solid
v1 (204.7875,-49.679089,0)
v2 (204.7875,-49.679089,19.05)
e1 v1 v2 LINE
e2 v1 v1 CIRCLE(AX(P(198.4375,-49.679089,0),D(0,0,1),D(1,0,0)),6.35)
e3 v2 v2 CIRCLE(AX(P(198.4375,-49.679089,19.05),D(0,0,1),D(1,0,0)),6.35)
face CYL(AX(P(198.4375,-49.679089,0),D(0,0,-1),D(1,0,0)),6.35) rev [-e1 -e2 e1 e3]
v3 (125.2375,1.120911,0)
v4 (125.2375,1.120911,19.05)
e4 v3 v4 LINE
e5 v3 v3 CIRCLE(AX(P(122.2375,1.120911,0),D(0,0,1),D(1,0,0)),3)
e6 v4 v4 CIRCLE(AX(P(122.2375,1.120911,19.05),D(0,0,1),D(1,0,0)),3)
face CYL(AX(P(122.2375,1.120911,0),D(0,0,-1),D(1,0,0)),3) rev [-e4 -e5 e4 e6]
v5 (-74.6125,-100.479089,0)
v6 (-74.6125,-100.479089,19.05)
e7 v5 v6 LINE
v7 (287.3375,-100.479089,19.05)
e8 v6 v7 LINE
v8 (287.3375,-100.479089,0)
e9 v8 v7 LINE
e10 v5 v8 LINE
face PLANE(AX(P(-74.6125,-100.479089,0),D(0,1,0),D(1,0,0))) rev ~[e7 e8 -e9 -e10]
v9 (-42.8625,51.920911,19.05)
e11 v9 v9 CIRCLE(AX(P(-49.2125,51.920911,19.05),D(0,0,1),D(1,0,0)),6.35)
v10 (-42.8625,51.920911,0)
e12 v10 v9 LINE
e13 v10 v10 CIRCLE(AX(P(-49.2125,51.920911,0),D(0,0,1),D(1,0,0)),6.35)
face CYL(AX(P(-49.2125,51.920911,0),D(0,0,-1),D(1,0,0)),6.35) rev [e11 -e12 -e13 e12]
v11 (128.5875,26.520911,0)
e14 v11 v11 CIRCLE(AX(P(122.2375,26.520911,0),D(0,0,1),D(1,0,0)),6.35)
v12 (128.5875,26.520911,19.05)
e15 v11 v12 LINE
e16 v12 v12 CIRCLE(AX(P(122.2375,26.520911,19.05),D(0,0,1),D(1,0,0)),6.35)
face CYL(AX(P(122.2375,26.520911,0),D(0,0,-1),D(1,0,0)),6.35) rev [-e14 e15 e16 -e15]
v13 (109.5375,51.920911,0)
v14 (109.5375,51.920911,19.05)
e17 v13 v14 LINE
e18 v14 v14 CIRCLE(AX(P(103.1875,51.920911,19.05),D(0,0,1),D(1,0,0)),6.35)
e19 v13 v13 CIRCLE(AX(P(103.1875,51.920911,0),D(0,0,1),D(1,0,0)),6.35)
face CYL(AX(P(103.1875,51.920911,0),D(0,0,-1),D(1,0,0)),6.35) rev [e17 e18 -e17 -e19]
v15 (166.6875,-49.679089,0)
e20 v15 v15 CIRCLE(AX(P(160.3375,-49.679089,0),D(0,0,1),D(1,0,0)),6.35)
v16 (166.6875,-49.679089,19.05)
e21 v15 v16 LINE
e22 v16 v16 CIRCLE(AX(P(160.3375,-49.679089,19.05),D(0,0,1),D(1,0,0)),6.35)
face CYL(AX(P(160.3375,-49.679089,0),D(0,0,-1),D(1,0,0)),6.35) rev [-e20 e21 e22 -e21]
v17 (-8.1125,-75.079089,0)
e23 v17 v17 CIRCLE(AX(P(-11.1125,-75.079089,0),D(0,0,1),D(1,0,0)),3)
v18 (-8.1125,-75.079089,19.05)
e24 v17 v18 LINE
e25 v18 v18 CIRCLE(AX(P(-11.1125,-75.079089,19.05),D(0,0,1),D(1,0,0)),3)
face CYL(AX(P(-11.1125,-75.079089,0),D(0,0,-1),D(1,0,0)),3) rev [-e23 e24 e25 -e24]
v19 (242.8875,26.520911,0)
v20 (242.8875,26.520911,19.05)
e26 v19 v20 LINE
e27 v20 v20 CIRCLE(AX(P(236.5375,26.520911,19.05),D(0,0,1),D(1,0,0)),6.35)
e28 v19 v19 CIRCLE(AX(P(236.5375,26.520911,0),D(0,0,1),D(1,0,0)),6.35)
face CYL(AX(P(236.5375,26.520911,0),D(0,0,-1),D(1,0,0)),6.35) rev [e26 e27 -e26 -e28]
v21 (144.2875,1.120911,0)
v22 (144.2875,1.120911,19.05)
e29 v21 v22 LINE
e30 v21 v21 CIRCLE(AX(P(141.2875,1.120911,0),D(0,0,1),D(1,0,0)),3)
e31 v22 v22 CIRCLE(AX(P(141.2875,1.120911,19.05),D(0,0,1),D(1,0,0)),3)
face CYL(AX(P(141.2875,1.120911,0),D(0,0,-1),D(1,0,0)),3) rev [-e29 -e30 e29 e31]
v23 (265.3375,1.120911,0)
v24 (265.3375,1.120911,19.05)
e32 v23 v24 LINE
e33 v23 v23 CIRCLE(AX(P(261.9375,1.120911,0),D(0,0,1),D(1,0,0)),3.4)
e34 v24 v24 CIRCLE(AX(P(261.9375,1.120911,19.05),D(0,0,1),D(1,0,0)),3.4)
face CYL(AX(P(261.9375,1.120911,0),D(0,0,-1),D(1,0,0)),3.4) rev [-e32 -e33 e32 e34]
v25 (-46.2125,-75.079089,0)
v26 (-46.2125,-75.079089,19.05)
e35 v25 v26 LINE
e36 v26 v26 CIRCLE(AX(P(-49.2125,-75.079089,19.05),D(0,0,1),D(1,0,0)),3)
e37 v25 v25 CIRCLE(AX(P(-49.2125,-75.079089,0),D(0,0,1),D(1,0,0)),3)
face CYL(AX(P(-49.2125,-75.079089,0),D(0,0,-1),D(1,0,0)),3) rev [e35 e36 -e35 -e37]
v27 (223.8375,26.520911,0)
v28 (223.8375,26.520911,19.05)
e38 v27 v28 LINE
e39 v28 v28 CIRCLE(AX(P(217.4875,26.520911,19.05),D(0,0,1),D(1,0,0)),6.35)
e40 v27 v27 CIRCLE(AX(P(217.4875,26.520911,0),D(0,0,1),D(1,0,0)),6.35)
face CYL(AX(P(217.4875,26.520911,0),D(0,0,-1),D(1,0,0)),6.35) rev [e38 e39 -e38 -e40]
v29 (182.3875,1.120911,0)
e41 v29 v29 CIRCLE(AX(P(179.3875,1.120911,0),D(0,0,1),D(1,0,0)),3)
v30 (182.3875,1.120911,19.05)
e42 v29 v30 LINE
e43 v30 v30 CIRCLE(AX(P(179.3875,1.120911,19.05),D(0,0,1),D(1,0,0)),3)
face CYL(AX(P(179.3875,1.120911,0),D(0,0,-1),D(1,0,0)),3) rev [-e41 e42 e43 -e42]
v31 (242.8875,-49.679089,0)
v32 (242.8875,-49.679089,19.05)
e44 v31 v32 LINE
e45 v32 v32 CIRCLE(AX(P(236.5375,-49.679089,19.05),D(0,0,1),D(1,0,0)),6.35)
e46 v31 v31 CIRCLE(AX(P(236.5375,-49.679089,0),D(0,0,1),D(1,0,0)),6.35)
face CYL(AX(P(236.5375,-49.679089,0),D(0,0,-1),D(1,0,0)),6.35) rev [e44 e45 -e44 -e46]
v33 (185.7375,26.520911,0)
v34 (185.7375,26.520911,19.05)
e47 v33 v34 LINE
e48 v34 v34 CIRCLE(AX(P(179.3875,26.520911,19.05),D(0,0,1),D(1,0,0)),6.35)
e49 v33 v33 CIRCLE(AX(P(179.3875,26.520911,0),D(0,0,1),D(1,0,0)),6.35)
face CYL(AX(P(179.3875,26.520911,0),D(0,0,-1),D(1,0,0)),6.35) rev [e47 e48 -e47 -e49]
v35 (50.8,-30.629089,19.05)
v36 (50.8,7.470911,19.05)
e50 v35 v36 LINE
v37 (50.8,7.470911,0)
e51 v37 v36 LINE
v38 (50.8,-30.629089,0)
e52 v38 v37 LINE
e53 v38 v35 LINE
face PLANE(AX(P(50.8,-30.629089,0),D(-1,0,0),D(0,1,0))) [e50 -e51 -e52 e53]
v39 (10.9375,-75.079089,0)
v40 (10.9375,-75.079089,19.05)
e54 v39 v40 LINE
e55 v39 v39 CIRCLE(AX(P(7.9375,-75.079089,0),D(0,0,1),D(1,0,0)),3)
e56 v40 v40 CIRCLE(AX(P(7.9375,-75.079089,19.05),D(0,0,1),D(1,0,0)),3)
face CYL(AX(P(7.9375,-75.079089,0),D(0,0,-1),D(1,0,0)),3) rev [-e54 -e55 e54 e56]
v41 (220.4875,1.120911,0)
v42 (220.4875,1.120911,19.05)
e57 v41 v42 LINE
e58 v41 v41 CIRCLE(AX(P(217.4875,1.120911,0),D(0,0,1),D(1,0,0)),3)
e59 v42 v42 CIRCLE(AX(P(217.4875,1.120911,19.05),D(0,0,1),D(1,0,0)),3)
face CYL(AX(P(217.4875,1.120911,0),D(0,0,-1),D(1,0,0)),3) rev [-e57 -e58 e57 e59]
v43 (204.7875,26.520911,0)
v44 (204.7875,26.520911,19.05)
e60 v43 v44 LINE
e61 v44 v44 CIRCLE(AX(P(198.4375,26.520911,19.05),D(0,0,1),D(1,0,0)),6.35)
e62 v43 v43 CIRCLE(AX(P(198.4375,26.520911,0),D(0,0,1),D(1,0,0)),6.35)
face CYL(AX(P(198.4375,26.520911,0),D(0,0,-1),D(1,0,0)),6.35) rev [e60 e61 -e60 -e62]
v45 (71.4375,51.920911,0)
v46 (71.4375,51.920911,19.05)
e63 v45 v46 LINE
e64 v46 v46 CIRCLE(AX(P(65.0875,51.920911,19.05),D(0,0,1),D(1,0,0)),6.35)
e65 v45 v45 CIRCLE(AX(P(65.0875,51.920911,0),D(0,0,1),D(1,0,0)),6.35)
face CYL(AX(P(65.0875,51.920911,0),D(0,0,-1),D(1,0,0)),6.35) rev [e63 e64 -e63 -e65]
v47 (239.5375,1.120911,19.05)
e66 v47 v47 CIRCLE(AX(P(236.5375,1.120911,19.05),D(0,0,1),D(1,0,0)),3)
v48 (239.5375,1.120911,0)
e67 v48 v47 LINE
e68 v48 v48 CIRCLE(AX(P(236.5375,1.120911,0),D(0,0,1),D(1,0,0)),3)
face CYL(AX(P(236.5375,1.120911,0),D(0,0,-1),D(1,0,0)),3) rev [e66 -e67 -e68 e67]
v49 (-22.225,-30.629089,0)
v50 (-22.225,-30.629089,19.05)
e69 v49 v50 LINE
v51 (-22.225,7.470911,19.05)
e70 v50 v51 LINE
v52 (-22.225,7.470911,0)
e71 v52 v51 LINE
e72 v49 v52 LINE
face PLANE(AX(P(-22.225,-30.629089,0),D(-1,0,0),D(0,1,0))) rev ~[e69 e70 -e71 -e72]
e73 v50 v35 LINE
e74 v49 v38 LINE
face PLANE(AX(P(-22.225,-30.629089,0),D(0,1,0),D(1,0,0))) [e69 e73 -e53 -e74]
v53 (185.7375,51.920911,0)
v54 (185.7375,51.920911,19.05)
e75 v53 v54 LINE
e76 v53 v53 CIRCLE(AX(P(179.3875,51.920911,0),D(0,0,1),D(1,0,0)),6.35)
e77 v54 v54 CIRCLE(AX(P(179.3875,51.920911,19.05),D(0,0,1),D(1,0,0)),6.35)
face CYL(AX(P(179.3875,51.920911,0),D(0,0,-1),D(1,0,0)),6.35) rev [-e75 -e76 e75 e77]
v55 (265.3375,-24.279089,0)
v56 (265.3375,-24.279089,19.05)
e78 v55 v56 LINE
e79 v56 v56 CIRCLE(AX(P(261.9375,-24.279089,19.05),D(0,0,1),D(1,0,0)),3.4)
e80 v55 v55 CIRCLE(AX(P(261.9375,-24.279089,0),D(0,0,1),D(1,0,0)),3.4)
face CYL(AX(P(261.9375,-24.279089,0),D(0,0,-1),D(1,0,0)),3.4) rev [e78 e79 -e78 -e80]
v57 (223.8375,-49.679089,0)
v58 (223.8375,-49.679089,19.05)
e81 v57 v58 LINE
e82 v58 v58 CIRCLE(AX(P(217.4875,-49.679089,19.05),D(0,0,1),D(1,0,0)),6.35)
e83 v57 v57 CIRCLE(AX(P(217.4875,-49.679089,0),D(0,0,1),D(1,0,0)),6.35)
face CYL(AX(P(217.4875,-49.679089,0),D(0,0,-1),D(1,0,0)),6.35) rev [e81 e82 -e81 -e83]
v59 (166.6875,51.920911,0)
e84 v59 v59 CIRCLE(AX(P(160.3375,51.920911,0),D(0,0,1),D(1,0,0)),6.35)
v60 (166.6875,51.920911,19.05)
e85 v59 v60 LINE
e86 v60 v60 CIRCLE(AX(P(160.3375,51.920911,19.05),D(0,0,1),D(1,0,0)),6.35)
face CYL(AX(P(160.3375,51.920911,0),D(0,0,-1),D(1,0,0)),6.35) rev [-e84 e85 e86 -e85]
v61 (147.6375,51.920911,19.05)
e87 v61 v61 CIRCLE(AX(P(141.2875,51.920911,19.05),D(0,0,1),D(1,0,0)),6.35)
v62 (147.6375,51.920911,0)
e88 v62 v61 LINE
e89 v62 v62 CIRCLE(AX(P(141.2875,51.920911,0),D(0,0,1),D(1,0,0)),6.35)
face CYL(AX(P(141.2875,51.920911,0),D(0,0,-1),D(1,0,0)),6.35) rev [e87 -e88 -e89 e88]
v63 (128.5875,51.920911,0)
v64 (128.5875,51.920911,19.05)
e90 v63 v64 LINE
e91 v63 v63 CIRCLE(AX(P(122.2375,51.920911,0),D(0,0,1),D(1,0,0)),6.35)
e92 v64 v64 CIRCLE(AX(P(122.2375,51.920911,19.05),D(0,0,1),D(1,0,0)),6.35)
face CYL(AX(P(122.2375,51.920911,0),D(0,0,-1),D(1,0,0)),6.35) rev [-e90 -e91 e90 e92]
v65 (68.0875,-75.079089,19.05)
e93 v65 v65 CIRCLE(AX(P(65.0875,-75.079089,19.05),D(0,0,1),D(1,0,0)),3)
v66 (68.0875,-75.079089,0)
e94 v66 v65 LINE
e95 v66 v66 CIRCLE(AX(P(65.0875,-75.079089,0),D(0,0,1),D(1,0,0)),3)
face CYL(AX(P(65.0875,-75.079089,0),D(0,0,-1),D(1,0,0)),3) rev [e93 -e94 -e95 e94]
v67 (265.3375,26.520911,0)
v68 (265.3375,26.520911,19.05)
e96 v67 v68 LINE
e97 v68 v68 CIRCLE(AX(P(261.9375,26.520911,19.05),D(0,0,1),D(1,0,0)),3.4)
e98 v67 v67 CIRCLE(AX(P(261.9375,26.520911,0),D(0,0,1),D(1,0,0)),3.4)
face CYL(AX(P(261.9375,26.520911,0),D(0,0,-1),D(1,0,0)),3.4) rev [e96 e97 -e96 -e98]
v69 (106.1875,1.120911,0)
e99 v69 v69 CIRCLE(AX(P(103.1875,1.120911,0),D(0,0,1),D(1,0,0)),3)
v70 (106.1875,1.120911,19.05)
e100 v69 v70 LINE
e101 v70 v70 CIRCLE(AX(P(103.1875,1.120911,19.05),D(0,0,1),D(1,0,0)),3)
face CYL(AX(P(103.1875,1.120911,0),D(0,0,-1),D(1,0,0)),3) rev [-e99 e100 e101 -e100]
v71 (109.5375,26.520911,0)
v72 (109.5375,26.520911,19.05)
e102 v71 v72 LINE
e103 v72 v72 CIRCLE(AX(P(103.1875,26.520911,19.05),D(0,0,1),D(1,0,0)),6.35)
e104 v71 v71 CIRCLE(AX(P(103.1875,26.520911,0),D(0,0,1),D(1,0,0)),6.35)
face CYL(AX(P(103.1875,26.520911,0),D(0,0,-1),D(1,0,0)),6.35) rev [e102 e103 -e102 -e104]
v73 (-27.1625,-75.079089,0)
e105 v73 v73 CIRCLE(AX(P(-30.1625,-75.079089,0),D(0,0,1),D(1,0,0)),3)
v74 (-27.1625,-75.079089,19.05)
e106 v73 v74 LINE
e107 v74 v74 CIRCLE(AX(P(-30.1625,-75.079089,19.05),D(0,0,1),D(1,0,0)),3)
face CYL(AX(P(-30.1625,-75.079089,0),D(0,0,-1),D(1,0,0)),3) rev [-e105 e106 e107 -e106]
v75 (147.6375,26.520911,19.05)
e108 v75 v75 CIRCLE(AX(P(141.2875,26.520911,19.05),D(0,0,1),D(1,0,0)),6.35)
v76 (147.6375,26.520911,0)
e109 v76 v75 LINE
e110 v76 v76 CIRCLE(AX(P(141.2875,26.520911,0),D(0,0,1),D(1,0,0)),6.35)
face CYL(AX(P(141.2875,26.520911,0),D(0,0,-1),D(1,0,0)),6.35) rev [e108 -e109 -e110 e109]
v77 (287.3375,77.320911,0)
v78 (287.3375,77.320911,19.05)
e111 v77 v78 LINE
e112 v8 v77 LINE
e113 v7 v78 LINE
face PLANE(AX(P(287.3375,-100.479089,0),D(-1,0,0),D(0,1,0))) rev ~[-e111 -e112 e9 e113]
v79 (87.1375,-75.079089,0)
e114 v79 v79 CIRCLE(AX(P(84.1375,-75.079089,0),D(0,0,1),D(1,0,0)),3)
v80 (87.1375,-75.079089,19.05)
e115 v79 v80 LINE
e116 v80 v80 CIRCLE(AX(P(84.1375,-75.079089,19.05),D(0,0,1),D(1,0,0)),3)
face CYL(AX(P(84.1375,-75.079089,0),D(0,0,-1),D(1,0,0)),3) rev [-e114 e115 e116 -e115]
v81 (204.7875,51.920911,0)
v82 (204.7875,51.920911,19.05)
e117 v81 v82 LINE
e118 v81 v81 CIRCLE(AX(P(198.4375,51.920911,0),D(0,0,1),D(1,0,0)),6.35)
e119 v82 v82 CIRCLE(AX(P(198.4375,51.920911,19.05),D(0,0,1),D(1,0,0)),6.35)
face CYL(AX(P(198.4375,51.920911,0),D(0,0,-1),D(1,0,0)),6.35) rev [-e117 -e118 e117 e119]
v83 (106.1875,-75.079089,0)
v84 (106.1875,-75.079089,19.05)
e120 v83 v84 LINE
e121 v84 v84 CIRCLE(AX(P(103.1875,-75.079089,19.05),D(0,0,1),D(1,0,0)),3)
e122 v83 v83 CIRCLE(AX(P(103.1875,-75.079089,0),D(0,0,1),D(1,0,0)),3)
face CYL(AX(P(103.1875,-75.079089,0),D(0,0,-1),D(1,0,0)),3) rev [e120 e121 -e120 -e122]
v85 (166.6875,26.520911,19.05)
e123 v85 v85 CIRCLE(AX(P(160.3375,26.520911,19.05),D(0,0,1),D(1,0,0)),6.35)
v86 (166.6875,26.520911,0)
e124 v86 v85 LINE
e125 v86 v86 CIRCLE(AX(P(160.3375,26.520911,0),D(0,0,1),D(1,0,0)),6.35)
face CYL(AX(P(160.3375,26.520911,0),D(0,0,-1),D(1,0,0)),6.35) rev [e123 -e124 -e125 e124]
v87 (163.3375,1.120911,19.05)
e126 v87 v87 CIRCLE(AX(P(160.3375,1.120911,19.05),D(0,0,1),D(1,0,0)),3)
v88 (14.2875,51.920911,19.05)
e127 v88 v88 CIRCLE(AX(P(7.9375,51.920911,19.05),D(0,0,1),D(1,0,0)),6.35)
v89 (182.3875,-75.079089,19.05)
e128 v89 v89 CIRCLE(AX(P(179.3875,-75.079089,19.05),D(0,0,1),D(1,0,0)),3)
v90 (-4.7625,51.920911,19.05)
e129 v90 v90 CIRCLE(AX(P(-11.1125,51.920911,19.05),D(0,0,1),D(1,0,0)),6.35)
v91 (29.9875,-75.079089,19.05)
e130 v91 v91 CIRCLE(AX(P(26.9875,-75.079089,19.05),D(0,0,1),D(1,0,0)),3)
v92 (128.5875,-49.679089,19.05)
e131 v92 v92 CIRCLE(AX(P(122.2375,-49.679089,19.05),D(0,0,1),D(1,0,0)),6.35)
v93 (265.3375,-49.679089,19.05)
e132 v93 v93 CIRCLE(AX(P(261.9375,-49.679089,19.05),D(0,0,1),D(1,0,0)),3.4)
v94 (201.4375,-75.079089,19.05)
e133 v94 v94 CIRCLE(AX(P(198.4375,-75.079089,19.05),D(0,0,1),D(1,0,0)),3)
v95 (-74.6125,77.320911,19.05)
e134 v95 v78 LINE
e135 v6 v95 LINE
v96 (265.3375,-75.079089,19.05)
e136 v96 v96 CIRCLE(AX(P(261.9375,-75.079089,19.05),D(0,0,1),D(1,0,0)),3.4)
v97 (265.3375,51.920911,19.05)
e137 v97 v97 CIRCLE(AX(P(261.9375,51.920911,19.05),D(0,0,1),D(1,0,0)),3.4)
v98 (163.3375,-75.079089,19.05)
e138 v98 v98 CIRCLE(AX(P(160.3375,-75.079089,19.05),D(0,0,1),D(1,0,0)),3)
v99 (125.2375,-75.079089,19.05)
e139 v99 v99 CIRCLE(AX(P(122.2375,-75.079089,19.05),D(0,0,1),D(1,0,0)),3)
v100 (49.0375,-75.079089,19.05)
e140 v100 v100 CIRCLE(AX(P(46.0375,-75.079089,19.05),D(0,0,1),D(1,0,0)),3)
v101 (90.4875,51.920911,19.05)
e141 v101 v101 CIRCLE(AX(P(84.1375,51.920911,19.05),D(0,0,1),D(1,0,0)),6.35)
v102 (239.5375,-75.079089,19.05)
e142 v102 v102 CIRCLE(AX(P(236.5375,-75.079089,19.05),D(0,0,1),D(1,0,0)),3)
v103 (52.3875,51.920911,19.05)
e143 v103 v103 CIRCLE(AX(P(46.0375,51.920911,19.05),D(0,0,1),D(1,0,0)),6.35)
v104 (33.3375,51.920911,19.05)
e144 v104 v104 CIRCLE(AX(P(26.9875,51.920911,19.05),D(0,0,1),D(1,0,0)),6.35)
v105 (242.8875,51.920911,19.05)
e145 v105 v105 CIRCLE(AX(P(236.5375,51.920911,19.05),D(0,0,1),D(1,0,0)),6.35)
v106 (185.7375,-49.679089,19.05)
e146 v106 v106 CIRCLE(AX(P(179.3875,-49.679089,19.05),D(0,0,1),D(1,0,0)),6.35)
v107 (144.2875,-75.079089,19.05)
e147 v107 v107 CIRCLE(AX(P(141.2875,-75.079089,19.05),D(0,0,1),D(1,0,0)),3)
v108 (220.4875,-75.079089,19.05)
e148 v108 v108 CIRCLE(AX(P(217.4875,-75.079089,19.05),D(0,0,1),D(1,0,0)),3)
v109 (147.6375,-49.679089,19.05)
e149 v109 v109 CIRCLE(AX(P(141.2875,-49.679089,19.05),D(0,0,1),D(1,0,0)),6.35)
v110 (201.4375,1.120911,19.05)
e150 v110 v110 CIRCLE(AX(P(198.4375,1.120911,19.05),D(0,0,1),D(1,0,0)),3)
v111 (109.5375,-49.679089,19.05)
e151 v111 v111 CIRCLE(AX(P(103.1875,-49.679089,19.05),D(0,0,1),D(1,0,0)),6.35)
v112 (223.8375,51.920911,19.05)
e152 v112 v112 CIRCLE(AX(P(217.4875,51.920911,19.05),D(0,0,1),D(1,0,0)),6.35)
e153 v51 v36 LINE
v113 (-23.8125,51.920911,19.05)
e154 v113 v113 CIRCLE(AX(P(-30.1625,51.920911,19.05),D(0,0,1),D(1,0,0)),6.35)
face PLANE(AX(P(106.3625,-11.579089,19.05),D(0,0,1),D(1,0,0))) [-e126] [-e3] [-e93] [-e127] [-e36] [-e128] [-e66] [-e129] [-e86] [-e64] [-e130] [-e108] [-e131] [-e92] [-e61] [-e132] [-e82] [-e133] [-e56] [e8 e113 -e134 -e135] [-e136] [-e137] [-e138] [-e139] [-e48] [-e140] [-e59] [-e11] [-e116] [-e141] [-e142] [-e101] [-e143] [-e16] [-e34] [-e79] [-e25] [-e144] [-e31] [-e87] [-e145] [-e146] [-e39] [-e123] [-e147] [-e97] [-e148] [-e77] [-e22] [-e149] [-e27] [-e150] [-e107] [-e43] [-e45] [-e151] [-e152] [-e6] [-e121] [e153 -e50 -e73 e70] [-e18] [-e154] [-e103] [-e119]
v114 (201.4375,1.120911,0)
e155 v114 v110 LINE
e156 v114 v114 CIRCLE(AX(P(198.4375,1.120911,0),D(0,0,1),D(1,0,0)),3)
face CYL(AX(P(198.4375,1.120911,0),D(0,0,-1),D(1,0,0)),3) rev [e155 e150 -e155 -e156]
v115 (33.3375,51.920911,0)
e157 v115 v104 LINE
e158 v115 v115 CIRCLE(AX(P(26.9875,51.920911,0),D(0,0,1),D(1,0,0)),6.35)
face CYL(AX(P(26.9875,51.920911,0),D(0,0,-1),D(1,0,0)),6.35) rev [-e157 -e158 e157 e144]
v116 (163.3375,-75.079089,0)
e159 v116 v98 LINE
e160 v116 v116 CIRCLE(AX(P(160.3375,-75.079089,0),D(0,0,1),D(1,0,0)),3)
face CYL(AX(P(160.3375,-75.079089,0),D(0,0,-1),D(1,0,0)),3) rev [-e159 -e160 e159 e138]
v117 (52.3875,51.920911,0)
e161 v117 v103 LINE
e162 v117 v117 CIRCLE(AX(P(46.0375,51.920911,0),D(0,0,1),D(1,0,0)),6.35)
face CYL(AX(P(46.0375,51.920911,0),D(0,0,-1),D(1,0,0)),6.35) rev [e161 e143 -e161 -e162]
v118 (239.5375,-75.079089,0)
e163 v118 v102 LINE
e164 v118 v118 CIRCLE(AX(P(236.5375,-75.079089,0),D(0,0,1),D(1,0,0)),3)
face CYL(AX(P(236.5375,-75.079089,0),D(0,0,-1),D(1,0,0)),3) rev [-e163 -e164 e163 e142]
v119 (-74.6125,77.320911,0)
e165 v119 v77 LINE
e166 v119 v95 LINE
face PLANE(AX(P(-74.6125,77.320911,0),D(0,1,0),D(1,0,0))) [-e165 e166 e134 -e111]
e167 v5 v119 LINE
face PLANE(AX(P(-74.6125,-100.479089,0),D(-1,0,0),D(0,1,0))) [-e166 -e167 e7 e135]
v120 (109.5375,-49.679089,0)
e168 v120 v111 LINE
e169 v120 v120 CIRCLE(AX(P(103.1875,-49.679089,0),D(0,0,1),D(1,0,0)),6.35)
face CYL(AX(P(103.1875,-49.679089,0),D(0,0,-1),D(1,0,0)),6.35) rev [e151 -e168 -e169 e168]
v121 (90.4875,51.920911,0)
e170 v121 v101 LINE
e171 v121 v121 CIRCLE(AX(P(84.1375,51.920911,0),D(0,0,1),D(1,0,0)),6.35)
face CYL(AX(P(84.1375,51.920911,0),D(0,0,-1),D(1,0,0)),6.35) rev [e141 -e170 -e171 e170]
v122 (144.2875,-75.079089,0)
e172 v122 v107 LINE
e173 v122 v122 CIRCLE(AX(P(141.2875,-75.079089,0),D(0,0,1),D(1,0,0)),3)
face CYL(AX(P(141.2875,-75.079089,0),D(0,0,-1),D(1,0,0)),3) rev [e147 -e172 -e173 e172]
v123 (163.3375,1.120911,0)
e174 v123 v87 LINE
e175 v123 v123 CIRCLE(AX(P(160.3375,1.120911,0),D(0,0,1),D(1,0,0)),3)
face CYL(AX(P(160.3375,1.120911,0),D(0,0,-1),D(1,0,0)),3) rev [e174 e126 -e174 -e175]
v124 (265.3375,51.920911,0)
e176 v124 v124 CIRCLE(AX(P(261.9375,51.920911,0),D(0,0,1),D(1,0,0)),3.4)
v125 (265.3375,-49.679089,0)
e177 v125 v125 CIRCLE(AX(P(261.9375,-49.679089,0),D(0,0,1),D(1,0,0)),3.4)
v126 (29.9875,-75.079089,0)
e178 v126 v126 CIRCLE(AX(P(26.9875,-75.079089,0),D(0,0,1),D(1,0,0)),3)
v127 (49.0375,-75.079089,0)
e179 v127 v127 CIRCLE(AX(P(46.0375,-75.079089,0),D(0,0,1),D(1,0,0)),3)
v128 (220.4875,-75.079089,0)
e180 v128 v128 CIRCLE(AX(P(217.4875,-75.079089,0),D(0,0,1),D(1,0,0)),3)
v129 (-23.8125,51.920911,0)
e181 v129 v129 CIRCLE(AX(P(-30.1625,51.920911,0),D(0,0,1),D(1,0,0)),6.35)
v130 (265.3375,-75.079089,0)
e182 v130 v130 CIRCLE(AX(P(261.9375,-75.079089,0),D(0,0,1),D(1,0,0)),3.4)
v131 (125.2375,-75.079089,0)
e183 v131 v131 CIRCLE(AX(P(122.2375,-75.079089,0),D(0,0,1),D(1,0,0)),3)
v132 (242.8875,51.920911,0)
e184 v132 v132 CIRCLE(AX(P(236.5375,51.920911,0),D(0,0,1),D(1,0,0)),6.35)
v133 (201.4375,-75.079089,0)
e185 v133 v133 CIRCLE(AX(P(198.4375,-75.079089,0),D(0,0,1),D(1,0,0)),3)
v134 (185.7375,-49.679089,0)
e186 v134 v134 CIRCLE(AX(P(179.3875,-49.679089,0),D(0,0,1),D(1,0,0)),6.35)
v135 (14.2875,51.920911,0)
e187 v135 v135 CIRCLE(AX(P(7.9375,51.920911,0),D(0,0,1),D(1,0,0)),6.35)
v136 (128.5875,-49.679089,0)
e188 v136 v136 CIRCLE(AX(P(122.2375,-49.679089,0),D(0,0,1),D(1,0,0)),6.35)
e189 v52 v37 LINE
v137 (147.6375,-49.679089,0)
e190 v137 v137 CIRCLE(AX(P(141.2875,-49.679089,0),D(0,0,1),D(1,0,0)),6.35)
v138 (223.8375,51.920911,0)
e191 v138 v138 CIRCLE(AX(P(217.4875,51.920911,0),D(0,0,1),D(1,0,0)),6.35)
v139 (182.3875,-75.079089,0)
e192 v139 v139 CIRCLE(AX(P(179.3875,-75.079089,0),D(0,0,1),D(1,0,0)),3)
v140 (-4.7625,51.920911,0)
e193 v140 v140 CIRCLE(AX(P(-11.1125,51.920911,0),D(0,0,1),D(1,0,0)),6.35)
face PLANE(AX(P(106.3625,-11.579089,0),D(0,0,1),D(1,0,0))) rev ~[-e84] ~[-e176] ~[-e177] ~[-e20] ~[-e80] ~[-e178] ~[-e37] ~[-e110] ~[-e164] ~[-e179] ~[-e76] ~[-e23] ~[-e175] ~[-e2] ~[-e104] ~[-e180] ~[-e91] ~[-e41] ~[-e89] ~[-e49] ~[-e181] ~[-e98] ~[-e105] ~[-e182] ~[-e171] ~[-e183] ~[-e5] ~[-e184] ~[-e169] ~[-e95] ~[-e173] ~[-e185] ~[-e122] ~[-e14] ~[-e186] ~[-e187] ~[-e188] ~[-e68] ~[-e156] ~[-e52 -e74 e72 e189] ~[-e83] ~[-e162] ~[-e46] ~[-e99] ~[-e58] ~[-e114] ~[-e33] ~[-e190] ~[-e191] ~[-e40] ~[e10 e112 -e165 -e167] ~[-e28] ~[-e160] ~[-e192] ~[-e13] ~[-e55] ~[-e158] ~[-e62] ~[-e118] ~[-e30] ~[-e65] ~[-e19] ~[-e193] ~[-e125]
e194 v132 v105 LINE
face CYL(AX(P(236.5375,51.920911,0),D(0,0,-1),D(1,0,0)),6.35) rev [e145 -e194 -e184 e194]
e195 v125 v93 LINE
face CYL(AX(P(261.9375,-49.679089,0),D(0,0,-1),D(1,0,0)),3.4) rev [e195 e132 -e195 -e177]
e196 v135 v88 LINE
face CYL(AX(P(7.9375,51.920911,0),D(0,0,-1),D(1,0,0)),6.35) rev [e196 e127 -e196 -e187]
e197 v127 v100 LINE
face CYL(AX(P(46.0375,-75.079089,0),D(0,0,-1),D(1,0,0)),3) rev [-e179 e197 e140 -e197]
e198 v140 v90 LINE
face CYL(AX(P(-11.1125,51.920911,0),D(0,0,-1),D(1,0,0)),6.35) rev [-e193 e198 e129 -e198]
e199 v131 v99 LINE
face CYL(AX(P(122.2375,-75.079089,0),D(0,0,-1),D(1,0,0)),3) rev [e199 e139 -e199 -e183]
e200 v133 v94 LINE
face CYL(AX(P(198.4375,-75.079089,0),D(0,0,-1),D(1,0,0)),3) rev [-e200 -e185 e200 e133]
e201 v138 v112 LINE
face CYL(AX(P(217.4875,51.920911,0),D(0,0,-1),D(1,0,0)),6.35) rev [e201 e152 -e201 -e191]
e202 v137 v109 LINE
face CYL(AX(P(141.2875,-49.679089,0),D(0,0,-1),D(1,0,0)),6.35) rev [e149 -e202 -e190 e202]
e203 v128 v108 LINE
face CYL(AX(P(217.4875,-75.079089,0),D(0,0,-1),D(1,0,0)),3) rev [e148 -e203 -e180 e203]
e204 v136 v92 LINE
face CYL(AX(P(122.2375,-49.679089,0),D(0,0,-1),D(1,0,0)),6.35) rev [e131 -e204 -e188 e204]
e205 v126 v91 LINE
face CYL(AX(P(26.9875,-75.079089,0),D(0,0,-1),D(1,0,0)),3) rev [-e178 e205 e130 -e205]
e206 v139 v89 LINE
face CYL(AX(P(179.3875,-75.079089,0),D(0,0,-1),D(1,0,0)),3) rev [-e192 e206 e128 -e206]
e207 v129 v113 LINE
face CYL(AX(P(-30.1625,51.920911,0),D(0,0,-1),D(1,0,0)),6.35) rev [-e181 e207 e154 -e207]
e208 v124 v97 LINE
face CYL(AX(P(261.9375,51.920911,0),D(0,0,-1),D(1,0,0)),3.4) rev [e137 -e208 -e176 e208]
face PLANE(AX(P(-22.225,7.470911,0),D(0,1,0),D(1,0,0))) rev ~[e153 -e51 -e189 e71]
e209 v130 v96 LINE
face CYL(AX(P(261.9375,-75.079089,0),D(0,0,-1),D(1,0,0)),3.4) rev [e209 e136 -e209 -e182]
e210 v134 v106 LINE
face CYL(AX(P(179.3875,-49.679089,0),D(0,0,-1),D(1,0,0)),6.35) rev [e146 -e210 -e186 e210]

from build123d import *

# Parameters (mm, degrees)
SKETCH1_W           = 361.95
SKETCH1_H           = 177.8
SKETCH1_R           = 6.35
SKETCH1_R_2         = 3
SKETCH1_R_3         = 3.4
SKETCH1_W_2         = 73.025
SKETCH1_H_2         = 38.1
BOSS_EXTRUDE1_DEPTH = 19.05


with BuildPart() as part:
    # Sketch1 → Boss-Extrude1 (new body)
    with BuildSketch(Plane.XY):
        with Locations((106.3625, -11.579089164)):
            Rectangle(SKETCH1_W, SKETCH1_H)
        with Locations((-49.2125, 51.920910836)):
            Circle(SKETCH1_R, mode=Mode.SUBTRACT)
        with Locations((-30.1625, 51.920910836)):
            Circle(SKETCH1_R, mode=Mode.SUBTRACT)
        with Locations((-11.1125, 51.920910836)):
            Circle(SKETCH1_R, mode=Mode.SUBTRACT)
        with Locations((7.9375, 51.920910836)):
            Circle(SKETCH1_R, mode=Mode.SUBTRACT)
        with Locations((26.9875, 51.920910836)):
            Circle(SKETCH1_R, mode=Mode.SUBTRACT)
        with Locations((46.0375, 51.920910836)):
            Circle(SKETCH1_R, mode=Mode.SUBTRACT)
        with Locations((65.0875, 51.920910836)):
            Circle(SKETCH1_R, mode=Mode.SUBTRACT)
        with Locations((84.1375, 51.920910836)):
            Circle(SKETCH1_R, mode=Mode.SUBTRACT)
        with Locations((103.1875, 51.920910836)):
            Circle(SKETCH1_R, mode=Mode.SUBTRACT)
        with Locations((122.2375, 51.920910836)):
            Circle(SKETCH1_R, mode=Mode.SUBTRACT)
        with Locations((141.2875, 51.920910836)):
            Circle(SKETCH1_R, mode=Mode.SUBTRACT)
        with Locations((160.3375, 51.920910836)):
            Circle(SKETCH1_R, mode=Mode.SUBTRACT)
        with Locations((179.3875, 51.920910836)):
            Circle(SKETCH1_R, mode=Mode.SUBTRACT)
        with Locations((198.4375, 51.920910836)):
            Circle(SKETCH1_R, mode=Mode.SUBTRACT)
        with Locations((217.4875, 51.920910836)):
            Circle(SKETCH1_R, mode=Mode.SUBTRACT)
        with Locations((236.5375, 51.920910836)):
            Circle(SKETCH1_R, mode=Mode.SUBTRACT)
        with Locations((103.1875, 26.520910836)):
            Circle(SKETCH1_R, mode=Mode.SUBTRACT)
        with Locations((122.2375, 26.520910836)):
            Circle(SKETCH1_R, mode=Mode.SUBTRACT)
        with Locations((141.2875, 26.520910836)):
            Circle(SKETCH1_R, mode=Mode.SUBTRACT)
        with Locations((160.3375, 26.520910836)):
            Circle(SKETCH1_R, mode=Mode.SUBTRACT)
        with Locations((179.3875, 26.520910836)):
            Circle(SKETCH1_R, mode=Mode.SUBTRACT)
        with Locations((198.4375, 26.520910836)):
            Circle(SKETCH1_R, mode=Mode.SUBTRACT)
        with Locations((217.4875, 26.520910836)):
            Circle(SKETCH1_R, mode=Mode.SUBTRACT)
        with Locations((236.5375, 26.520910836)):
            Circle(SKETCH1_R, mode=Mode.SUBTRACT)
        with Locations((103.1875, -49.679089164)):
            Circle(SKETCH1_R, mode=Mode.SUBTRACT)
        with Locations((122.2375, -49.679089164)):
            Circle(SKETCH1_R, mode=Mode.SUBTRACT)
        with Locations((141.2875, -49.679089164)):
            Circle(SKETCH1_R, mode=Mode.SUBTRACT)
        with Locations((160.3375, -49.679089164)):
            Circle(SKETCH1_R, mode=Mode.SUBTRACT)
        with Locations((179.3875, -49.679089164)):
            Circle(SKETCH1_R, mode=Mode.SUBTRACT)
        with Locations((198.4375, -49.679089164)):
            Circle(SKETCH1_R, mode=Mode.SUBTRACT)
        with Locations((217.4875, -49.679089164)):
            Circle(SKETCH1_R, mode=Mode.SUBTRACT)
        with Locations((236.5375, -49.679089164)):
            Circle(SKETCH1_R, mode=Mode.SUBTRACT)
        with Locations((103.1875, 1.120910836)):
            Circle(SKETCH1_R_2, mode=Mode.SUBTRACT)
        with Locations((122.2375, 1.120910836)):
            Circle(SKETCH1_R_2, mode=Mode.SUBTRACT)
        with Locations((141.2875, 1.120910836)):
            Circle(SKETCH1_R_2, mode=Mode.SUBTRACT)
        with Locations((160.3375, 1.120910836)):
            Circle(SKETCH1_R_2, mode=Mode.SUBTRACT)
        with Locations((179.3875, 1.120910836)):
            Circle(SKETCH1_R_2, mode=Mode.SUBTRACT)
        with Locations((198.4375, 1.120910836)):
            Circle(SKETCH1_R_2, mode=Mode.SUBTRACT)
        with Locations((217.4875, 1.120910836)):
            Circle(SKETCH1_R_2, mode=Mode.SUBTRACT)
        with Locations((236.5375, 1.120910836)):
            Circle(SKETCH1_R_2, mode=Mode.SUBTRACT)
        with Locations((-49.2125, -75.079089164)):
            Circle(SKETCH1_R_2, mode=Mode.SUBTRACT)
        with Locations((-30.1625, -75.079089164)):
            Circle(SKETCH1_R_2, mode=Mode.SUBTRACT)
        with Locations((-11.1125, -75.079089164)):
            Circle(SKETCH1_R_2, mode=Mode.SUBTRACT)
        with Locations((7.9375, -75.079089164)):
            Circle(SKETCH1_R_2, mode=Mode.SUBTRACT)
        with Locations((26.9875, -75.079089164)):
            Circle(SKETCH1_R_2, mode=Mode.SUBTRACT)
        with Locations((46.0375, -75.079089164)):
            Circle(SKETCH1_R_2, mode=Mode.SUBTRACT)
        with Locations((65.0875, -75.079089164)):
            Circle(SKETCH1_R_2, mode=Mode.SUBTRACT)
        with Locations((84.1375, -75.079089164)):
            Circle(SKETCH1_R_2, mode=Mode.SUBTRACT)
        with Locations((103.1875, -75.079089164)):
            Circle(SKETCH1_R_2, mode=Mode.SUBTRACT)
        with Locations((122.2375, -75.079089164)):
            Circle(SKETCH1_R_2, mode=Mode.SUBTRACT)
        with Locations((141.2875, -75.079089164)):
            Circle(SKETCH1_R_2, mode=Mode.SUBTRACT)
        with Locations((160.3375, -75.079089164)):
            Circle(SKETCH1_R_2, mode=Mode.SUBTRACT)
        with Locations((179.3875, -75.079089164)):
            Circle(SKETCH1_R_2, mode=Mode.SUBTRACT)
        with Locations((198.4375, -75.079089164)):
            Circle(SKETCH1_R_2, mode=Mode.SUBTRACT)
        with Locations((217.4875, -75.079089164)):
            Circle(SKETCH1_R_2, mode=Mode.SUBTRACT)
        with Locations((236.5375, -75.079089164)):
            Circle(SKETCH1_R_2, mode=Mode.SUBTRACT)
        with Locations((261.9375, 51.920910836)):
            Circle(SKETCH1_R_3, mode=Mode.SUBTRACT)
        with Locations((261.9375, 26.520910836)):
            Circle(SKETCH1_R_3, mode=Mode.SUBTRACT)
        with Locations((261.9375, -24.279089164)):
            Circle(SKETCH1_R_3, mode=Mode.SUBTRACT)
        with Locations((261.9375, -75.079089164)):
            Circle(SKETCH1_R_3, mode=Mode.SUBTRACT)
        with Locations((261.9375, -49.679089164)):
            Circle(SKETCH1_R_3, mode=Mode.SUBTRACT)
        with Locations((261.9375, 1.120910836)):
            Circle(SKETCH1_R_3, mode=Mode.SUBTRACT)
        with Locations((14.2875, -11.579089164)):
            Rectangle(SKETCH1_W_2, SKETCH1_H_2, mode=Mode.SUBTRACT)
    extrude(amount=BOSS_EXTRUDE1_DEPTH)


solid = part.part
